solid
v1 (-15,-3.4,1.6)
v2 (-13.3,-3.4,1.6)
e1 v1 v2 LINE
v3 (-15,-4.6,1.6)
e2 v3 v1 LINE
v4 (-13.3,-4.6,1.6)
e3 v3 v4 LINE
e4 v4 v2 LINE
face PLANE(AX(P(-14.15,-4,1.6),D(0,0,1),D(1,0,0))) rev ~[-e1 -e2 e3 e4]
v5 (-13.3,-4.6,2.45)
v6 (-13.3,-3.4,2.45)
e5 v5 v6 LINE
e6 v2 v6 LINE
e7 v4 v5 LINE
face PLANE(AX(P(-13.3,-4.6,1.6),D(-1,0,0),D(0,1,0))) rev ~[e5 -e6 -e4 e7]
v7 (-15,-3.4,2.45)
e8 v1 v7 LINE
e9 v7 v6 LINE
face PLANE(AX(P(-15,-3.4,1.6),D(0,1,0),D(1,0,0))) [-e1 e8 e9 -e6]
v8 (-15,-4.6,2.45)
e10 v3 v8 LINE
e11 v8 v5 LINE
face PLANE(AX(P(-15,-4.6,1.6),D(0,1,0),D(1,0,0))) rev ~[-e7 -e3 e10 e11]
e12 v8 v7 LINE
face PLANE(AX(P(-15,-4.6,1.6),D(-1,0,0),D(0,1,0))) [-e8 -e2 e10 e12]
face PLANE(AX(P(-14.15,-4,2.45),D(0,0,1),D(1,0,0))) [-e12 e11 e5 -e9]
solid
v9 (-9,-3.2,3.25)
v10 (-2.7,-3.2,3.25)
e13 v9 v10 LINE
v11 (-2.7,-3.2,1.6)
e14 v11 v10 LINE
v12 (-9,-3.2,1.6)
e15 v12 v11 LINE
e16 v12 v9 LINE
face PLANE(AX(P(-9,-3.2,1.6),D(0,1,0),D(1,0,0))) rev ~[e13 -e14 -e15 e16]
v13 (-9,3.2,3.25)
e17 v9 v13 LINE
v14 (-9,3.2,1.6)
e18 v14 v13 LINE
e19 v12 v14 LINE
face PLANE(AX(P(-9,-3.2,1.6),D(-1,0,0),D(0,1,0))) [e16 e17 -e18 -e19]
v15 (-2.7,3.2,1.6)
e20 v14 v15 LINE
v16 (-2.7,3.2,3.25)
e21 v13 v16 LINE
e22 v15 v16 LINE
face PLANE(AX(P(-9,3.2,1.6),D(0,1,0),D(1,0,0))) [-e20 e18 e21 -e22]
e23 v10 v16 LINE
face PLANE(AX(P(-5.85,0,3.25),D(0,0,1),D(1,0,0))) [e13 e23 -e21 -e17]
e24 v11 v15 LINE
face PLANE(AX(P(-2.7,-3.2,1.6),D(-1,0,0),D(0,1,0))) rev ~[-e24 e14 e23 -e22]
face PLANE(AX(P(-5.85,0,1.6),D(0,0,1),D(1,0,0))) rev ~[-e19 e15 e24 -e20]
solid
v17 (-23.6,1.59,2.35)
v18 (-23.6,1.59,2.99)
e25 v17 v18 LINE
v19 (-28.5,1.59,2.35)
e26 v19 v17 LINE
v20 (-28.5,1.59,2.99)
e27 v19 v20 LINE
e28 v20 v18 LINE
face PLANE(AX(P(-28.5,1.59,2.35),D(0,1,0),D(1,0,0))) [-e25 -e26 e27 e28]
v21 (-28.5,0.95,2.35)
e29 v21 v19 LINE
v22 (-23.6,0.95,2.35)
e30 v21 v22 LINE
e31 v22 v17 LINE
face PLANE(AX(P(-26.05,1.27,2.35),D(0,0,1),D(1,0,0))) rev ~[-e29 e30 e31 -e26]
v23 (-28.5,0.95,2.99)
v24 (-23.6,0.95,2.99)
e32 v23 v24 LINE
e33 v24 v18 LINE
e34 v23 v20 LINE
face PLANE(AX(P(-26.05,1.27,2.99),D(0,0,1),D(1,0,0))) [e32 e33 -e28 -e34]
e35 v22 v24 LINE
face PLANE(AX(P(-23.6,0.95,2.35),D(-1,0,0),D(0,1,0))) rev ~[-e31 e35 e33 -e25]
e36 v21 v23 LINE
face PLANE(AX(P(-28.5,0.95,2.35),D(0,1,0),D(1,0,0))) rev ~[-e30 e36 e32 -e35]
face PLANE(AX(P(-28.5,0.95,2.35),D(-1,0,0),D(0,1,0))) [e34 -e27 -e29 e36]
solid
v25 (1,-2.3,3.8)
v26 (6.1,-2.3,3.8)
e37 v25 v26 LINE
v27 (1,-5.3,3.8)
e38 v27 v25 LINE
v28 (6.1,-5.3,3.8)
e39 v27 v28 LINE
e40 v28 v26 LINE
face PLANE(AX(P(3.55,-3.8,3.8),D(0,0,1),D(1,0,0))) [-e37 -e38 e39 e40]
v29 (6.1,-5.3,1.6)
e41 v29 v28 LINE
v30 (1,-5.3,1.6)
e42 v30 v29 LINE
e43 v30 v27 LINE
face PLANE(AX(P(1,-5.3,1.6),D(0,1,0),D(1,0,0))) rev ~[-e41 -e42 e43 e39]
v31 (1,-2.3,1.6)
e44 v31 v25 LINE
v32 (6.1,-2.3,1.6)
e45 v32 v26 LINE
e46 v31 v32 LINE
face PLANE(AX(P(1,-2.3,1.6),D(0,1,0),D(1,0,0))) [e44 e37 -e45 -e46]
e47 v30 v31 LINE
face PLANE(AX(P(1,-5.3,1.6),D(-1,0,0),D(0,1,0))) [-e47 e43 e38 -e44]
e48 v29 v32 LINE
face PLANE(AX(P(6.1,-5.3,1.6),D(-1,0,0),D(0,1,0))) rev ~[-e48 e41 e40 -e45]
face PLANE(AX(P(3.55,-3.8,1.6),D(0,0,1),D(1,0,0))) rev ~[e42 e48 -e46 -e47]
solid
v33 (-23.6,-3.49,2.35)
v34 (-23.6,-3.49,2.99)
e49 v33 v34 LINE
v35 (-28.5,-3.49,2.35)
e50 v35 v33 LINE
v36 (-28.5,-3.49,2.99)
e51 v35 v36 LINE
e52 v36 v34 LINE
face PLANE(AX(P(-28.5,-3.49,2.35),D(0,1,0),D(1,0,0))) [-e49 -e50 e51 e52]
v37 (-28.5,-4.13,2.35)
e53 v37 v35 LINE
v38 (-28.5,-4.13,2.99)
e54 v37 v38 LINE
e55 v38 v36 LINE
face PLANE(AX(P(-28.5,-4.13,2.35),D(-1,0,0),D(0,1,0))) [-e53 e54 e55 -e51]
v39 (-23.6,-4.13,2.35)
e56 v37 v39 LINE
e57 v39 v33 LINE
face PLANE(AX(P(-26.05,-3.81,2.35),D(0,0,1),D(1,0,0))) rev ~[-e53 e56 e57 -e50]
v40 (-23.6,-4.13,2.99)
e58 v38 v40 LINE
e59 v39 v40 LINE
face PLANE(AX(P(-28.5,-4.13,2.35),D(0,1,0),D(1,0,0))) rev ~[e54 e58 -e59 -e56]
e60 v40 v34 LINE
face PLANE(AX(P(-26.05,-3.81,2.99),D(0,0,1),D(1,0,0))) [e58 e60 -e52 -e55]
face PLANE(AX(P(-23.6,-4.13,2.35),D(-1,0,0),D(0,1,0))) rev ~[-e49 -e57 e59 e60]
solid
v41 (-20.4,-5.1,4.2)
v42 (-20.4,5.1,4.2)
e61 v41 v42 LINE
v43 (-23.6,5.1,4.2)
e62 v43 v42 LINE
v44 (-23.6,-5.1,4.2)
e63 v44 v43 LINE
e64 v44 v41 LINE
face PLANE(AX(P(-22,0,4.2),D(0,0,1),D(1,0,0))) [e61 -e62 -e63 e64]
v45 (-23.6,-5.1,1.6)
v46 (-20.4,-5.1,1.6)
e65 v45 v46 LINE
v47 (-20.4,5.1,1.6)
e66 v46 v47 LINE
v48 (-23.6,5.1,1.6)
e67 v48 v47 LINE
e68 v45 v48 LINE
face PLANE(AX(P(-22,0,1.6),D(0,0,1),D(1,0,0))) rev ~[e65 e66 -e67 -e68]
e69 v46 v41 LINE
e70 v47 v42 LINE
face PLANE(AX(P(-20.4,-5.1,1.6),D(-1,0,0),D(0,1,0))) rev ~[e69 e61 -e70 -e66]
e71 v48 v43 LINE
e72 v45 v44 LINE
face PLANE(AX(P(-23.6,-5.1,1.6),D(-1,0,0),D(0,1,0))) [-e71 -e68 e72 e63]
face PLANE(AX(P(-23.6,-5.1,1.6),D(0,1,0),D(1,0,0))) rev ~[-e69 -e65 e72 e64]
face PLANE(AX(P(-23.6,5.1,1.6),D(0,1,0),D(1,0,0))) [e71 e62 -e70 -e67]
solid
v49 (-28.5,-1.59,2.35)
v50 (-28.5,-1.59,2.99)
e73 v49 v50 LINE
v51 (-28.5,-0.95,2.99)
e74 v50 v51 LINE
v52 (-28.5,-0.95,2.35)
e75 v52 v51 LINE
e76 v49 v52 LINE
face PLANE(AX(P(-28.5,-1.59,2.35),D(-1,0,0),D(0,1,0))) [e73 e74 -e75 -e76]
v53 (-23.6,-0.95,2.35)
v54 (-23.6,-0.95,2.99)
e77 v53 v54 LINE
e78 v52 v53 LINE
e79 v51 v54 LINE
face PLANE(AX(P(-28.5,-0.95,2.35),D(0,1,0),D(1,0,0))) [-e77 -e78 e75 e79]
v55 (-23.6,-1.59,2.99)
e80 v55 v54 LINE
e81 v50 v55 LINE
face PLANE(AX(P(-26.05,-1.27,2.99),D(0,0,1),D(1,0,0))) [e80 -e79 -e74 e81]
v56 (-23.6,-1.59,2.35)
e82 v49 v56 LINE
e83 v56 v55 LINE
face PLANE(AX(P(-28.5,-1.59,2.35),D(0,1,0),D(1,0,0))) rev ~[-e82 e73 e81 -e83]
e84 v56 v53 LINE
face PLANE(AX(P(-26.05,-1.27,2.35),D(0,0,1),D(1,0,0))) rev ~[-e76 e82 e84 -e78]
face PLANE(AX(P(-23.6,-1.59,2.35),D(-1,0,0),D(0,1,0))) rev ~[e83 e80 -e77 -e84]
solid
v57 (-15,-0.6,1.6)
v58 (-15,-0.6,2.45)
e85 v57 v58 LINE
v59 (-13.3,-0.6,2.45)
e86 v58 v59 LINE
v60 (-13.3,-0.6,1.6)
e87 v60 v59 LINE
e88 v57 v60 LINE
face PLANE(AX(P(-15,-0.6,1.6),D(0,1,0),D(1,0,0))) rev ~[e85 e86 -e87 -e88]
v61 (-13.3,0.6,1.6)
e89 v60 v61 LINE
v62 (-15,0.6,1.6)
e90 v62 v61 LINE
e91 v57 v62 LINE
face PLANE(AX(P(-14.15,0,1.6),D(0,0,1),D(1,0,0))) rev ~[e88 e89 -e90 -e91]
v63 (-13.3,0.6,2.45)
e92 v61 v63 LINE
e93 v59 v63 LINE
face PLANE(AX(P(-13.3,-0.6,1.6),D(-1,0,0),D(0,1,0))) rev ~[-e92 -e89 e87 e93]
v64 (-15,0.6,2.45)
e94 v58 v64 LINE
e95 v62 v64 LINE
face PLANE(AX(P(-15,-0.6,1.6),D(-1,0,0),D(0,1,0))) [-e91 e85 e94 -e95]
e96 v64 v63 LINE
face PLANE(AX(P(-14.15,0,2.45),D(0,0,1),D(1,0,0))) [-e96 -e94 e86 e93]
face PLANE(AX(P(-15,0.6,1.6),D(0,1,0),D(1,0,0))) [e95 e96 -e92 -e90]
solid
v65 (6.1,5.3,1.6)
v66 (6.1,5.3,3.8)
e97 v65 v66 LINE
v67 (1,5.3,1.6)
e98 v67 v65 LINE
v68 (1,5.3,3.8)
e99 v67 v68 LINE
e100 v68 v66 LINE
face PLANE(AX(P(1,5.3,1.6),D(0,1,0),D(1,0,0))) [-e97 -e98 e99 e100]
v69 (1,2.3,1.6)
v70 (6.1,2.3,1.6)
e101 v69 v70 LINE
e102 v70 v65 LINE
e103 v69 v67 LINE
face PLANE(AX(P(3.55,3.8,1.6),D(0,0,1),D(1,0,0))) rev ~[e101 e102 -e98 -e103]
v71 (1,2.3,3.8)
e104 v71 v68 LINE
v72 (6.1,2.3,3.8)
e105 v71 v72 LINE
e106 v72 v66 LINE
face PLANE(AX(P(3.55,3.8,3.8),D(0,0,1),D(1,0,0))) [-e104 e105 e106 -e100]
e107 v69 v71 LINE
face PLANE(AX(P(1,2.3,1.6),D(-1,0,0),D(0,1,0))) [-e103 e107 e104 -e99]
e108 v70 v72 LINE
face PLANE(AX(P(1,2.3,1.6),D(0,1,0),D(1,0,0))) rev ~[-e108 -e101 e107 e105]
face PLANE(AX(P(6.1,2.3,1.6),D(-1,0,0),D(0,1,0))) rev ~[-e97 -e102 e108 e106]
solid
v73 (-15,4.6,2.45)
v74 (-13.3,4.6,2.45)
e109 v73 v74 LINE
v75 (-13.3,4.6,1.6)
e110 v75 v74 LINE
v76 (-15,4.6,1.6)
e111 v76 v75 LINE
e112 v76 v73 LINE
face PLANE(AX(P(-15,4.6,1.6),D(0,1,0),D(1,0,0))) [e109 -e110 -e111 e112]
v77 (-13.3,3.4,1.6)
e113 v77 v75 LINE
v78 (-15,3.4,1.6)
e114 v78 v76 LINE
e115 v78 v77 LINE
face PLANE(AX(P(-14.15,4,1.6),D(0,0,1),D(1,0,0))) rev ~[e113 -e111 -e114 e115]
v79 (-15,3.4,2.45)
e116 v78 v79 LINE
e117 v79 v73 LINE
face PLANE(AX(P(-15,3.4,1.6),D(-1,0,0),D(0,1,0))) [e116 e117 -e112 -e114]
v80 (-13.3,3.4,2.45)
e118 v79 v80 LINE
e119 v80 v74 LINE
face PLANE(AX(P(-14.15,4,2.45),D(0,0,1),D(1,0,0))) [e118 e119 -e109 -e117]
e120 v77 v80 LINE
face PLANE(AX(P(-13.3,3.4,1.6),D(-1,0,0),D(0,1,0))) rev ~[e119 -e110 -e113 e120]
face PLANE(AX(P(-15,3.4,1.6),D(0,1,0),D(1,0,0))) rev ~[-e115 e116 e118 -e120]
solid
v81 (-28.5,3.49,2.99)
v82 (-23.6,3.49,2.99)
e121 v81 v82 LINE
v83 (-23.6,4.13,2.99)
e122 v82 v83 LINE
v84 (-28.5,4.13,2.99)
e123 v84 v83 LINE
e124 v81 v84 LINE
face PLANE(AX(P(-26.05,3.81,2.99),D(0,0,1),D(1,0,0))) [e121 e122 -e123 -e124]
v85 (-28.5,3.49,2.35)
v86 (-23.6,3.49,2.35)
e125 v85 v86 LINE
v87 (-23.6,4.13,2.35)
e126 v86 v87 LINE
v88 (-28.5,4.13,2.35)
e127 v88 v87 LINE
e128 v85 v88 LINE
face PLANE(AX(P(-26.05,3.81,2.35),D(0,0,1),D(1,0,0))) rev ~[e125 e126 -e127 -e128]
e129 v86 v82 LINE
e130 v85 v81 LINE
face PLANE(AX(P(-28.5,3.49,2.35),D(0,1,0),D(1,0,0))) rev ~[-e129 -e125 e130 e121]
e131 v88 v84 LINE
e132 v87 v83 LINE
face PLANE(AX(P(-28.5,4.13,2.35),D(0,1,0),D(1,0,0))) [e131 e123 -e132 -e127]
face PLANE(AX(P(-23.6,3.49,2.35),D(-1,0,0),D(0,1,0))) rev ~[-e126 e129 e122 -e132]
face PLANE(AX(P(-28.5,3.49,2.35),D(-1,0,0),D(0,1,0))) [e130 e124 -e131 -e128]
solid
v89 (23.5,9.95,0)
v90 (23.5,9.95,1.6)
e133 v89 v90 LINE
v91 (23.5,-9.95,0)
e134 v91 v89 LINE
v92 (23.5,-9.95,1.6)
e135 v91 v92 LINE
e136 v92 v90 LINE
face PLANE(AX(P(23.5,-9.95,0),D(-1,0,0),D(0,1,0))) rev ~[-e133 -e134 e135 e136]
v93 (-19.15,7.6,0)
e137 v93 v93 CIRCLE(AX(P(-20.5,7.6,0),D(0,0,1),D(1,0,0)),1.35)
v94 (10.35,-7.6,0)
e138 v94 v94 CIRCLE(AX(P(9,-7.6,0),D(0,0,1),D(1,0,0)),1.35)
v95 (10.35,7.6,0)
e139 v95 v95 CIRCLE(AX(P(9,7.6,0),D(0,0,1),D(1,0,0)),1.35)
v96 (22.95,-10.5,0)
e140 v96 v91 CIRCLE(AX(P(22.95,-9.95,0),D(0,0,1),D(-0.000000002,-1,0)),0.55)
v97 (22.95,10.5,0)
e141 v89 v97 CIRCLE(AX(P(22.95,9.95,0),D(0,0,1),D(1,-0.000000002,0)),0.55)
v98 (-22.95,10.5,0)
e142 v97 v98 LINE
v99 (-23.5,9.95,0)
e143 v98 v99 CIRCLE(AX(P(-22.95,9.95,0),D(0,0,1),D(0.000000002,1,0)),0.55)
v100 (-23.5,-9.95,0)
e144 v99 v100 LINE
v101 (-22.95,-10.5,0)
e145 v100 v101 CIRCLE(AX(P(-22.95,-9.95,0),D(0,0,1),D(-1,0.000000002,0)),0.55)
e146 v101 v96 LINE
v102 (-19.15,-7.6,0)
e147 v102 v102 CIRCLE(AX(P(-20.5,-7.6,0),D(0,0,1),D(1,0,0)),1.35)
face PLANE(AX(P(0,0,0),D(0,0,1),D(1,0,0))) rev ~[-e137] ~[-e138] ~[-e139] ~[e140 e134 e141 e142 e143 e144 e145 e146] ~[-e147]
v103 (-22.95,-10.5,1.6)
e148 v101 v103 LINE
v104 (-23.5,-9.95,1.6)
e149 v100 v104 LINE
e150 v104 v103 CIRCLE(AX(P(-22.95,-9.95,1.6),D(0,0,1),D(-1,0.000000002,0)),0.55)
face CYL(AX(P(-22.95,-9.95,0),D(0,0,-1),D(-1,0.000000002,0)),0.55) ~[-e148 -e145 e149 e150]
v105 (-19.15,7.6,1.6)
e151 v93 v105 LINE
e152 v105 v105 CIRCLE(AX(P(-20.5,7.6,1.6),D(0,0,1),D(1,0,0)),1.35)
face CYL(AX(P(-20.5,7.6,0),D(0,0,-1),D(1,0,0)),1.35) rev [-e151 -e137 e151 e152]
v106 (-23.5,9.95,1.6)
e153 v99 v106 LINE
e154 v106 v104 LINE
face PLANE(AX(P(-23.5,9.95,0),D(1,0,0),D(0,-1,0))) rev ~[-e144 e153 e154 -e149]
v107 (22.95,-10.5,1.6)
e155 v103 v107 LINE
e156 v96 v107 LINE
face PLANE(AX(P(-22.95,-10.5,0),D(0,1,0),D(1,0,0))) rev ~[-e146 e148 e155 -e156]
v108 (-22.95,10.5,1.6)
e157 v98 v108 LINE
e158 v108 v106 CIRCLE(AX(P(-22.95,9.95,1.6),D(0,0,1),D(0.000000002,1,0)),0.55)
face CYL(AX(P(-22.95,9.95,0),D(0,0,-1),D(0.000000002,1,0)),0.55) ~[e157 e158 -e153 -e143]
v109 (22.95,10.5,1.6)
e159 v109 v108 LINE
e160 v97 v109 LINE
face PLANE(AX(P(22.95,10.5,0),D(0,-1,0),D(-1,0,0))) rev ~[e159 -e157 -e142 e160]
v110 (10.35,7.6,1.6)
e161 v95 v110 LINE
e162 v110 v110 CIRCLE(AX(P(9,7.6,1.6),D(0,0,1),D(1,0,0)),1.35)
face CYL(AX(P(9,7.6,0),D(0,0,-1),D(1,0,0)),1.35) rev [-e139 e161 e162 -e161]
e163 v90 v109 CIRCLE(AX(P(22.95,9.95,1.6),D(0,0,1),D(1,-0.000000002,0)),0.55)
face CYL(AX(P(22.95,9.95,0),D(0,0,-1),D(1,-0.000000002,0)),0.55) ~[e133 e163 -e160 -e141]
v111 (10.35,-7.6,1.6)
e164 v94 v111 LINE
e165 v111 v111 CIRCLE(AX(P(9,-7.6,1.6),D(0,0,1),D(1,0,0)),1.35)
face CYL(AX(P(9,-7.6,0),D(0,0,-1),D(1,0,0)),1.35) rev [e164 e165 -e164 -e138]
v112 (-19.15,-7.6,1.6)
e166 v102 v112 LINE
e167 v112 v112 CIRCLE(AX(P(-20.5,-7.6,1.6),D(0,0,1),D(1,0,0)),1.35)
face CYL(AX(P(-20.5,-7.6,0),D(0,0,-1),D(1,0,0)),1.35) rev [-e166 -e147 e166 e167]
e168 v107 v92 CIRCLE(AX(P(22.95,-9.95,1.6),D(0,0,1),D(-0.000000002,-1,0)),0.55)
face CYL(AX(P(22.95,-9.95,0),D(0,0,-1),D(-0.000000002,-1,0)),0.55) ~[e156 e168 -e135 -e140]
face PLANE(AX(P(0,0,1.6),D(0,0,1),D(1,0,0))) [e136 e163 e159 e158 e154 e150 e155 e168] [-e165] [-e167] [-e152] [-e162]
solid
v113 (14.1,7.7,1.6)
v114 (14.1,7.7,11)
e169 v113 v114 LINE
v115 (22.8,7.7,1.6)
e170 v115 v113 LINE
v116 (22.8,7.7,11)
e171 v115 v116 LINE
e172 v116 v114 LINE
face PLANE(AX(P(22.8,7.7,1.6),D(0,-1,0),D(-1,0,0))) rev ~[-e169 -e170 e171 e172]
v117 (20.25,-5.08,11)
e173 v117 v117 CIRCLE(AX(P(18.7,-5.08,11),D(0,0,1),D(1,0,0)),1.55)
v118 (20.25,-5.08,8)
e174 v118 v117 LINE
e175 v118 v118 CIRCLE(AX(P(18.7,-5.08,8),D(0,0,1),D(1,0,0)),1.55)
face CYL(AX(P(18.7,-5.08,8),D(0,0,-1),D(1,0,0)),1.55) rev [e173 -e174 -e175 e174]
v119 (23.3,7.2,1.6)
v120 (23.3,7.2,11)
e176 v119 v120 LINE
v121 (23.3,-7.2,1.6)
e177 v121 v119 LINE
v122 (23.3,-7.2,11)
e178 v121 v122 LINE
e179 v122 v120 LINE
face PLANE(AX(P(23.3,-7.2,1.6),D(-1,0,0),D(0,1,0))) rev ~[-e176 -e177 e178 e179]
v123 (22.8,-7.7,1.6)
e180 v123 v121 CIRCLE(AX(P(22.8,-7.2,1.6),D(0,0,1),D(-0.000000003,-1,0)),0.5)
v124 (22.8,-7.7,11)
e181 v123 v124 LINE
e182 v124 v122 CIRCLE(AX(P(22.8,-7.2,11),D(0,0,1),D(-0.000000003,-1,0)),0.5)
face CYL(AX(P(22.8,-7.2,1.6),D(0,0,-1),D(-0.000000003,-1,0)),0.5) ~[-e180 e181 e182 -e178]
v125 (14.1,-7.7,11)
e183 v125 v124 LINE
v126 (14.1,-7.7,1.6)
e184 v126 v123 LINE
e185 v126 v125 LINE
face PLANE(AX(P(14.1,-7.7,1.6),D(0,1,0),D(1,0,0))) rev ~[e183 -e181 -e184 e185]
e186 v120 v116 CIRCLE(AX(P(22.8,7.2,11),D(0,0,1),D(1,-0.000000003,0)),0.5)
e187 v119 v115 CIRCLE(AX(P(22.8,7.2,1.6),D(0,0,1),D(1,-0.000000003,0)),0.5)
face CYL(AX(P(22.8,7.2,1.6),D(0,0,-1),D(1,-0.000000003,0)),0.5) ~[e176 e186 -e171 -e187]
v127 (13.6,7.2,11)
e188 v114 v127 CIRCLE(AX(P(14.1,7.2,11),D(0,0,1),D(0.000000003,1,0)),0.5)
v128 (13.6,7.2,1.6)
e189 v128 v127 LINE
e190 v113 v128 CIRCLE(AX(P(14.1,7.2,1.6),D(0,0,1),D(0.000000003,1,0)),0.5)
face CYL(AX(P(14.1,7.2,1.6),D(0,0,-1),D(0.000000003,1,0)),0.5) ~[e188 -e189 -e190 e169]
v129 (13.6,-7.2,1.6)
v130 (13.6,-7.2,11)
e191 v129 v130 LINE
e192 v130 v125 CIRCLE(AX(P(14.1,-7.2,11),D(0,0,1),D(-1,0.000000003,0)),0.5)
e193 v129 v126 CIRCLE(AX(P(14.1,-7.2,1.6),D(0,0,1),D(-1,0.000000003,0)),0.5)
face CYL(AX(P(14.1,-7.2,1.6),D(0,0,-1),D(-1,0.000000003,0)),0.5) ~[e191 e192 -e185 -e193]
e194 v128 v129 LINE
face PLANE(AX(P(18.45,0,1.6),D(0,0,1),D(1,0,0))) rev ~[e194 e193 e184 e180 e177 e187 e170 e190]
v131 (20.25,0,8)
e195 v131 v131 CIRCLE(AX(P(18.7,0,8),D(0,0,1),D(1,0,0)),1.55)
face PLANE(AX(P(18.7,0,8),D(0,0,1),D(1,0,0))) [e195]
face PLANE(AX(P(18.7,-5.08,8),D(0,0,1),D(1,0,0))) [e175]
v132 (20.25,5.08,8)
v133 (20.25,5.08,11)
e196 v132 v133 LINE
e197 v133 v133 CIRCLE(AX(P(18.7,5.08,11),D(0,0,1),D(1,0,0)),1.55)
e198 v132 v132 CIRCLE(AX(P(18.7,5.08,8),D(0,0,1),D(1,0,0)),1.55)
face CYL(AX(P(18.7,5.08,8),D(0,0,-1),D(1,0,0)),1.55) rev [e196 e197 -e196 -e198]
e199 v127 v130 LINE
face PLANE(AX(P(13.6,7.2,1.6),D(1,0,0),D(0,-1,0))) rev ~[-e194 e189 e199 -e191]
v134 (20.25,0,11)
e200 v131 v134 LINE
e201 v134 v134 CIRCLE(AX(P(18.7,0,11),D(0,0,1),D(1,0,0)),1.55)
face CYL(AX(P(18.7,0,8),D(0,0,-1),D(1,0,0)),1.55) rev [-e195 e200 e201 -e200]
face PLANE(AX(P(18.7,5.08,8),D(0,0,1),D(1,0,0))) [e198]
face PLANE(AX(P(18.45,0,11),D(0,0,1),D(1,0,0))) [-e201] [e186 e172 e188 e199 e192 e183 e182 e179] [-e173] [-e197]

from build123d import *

# Parameters (mm, degrees)
PCB_OVERVOLTAGE_PROTECTION_SKETCH_R = 1.35
PCB_OVERVOLTAGE_PROTECTION_DEPTH    = 1.6
TTL_2P54_HEADER_START               = 1.6
TTL_2P54_HEADER_SKETCH_W            = 3.2
TTL_2P54_HEADER_SKETCH_H            = 10.2
TTL_2P54_HEADER_DEPTH               = 2.6
FOUR_TTL_PINS_2P54_START            = 2.35
FOUR_TTL_PINS_2P54_SKETCH_W         = 4.9
FOUR_TTL_PINS_2P54_SKETCH_H         = 0.64
FOUR_TTL_PINS_2P54_DEPTH            = 0.64
FOUR_TTL_PINS_2P54_2_DEPTH          = 0.64
FOUR_TTL_PINS_2P54_3_DEPTH          = 0.64
FOUR_TTL_PINS_2P54_4_DEPTH          = 0.64
THREE_POSITION_RS485_TERMINAL_START = 1.6
THREE_POSITION_RS485_TERMINAL_DEPTH = 9.4
TERMINAL_SCREW_ACCESS_START         = 8
TERMINAL_SCREW_ACCESS_SKETCH_R      = 1.55
TERMINAL_SCREW_ACCESS_DEPTH         = 3
TRANSCEIVER_START                   = 1.6
TRANSCEIVER_SKETCH_W                = 6.3
TRANSCEIVER_SKETCH_H                = 6.4
TRANSCEIVER_DEPTH                   = 1.65
TVS_A_START                         = 1.6
TVS_A_SKETCH_W                      = 5.1
TVS_A_SKETCH_H                      = 3
TVS_A_DEPTH                         = 2.2
TVS_B_START                         = 1.6
TVS_B_SKETCH_W                      = 5.1
TVS_B_SKETCH_H                      = 3
TVS_B_DEPTH                         = 2.2
STATUS_LEDS_START                   = 1.6
STATUS_LEDS_SKETCH_W                = 1.7
STATUS_LEDS_SKETCH_H                = 1.2
STATUS_LEDS_DEPTH                   = 0.85
STATUS_LEDS_2_DEPTH                 = 0.85
STATUS_LEDS_3_DEPTH                 = 0.85


with BuildPart() as part:
    # PCB_Overvoltage_protection_Sketch → PCB_Overvoltage_protection (new body)
    with BuildSketch(Plane.XY):
        with BuildLine():
            Line((-22.95, -10.5), (22.95, -10.5))
            ThreePointArc((22.95, -10.5), (23.33890873, -10.33890873), (23.5, -9.95))
            Line((23.5, -9.95), (23.5, 9.95))
            ThreePointArc((23.5, 9.95), (23.33890873, 10.33890873), (22.95, 10.5))
            Line((22.95, 10.5), (-22.95, 10.5))
            ThreePointArc((-22.95, 10.5), (-23.33890873, 10.33890873), (-23.5, 9.95))
            Line((-23.5, 9.95), (-23.5, -9.95))
            ThreePointArc((-23.5, -9.95), (-23.33890873, -10.33890873), (-22.95, -10.5))
        make_face()
        with Locations((-20.5, -7.6)):
            Circle(PCB_OVERVOLTAGE_PROTECTION_SKETCH_R, mode=Mode.SUBTRACT)
        with Locations((-20.5, 7.6)):
            Circle(PCB_OVERVOLTAGE_PROTECTION_SKETCH_R, mode=Mode.SUBTRACT)
        with Locations((9, -7.6)):
            Circle(PCB_OVERVOLTAGE_PROTECTION_SKETCH_R, mode=Mode.SUBTRACT)
        with Locations((9, 7.6)):
            Circle(PCB_OVERVOLTAGE_PROTECTION_SKETCH_R, mode=Mode.SUBTRACT)
    extrude(amount=PCB_OVERVOLTAGE_PROTECTION_DEPTH)


with BuildPart() as body_2:
    # TTL_2p54_Header_Sketch → TTL_2p54_Header (new body)
    with BuildSketch(Plane.XY.offset(TTL_2P54_HEADER_START)):
        with Locations((-22, 0)):
            Rectangle(TTL_2P54_HEADER_SKETCH_W, TTL_2P54_HEADER_SKETCH_H)
    extrude(amount=TTL_2P54_HEADER_DEPTH)


with BuildPart() as body_3:
    # Four_TTL_Pins_2p54_Sketch → Four_TTL_Pins_2p54 (new body)
    with BuildSketch(Plane.XY.offset(FOUR_TTL_PINS_2P54_START)):
        with Locations((-26.05, -3.81)):
            Rectangle(FOUR_TTL_PINS_2P54_SKETCH_W, FOUR_TTL_PINS_2P54_SKETCH_H)
    extrude(amount=FOUR_TTL_PINS_2P54_DEPTH)


with BuildPart() as body_4:
    # Four_TTL_Pins_2p54_Sketch → Four_TTL_Pins_2p54 2 (new body)
    with BuildSketch(Plane.XY.offset(FOUR_TTL_PINS_2P54_START)):
        with Locations((-26.05, -1.27)):
            Rectangle(FOUR_TTL_PINS_2P54_SKETCH_W, FOUR_TTL_PINS_2P54_SKETCH_H)
    extrude(amount=FOUR_TTL_PINS_2P54_2_DEPTH)


with BuildPart() as body_5:
    # Four_TTL_Pins_2p54_Sketch → Four_TTL_Pins_2p54 3 (new body)
    with BuildSketch(Plane.XY.offset(FOUR_TTL_PINS_2P54_START)):
        with Locations((-26.05, 1.27)):
            Rectangle(FOUR_TTL_PINS_2P54_SKETCH_W, FOUR_TTL_PINS_2P54_SKETCH_H)
    extrude(amount=FOUR_TTL_PINS_2P54_3_DEPTH)


with BuildPart() as body_6:
    # Four_TTL_Pins_2p54_Sketch → Four_TTL_Pins_2p54 4 (new body)
    with BuildSketch(Plane.XY.offset(FOUR_TTL_PINS_2P54_START)):
        with Locations((-26.05, 3.81)):
            Rectangle(FOUR_TTL_PINS_2P54_SKETCH_W, FOUR_TTL_PINS_2P54_SKETCH_H)
    extrude(amount=FOUR_TTL_PINS_2P54_4_DEPTH)


with BuildPart() as body_7:
    # Three_position_RS485_terminal_Sketch → Three_position_RS485_terminal (new body)
    with BuildSketch(Plane.XY.offset(THREE_POSITION_RS485_TERMINAL_START)):
        with BuildLine():
            Line((14.1, -7.7), (22.8, -7.7))
            ThreePointArc((22.8, -7.7), (23.153553391, -7.553553391), (23.3, -7.2))
            Line((23.3, -7.2), (23.3, 7.2))
            ThreePointArc((23.3, 7.2), (23.153553391, 7.553553391), (22.8, 7.7))
            Line((22.8, 7.7), (14.1, 7.7))
            ThreePointArc((14.1, 7.7), (13.746446609, 7.553553391), (13.6, 7.2))
            Line((13.6, 7.2), (13.6, -7.2))
            ThreePointArc((13.6, -7.2), (13.746446609, -7.553553391), (14.1, -7.7))
        make_face()
    extrude(amount=THREE_POSITION_RS485_TERMINAL_DEPTH)

    # Terminal_screw_access_Sketch → Terminal_screw_access (cut)
    with BuildSketch(Plane.XY.offset(TERMINAL_SCREW_ACCESS_START)):
        with Locations((18.7, -5.08)):
            Circle(TERMINAL_SCREW_ACCESS_SKETCH_R)
        with Locations((18.7, 0)):
            Circle(TERMINAL_SCREW_ACCESS_SKETCH_R)
        with Locations((18.7, 5.08)):
            Circle(TERMINAL_SCREW_ACCESS_SKETCH_R)
    extrude(amount=TERMINAL_SCREW_ACCESS_DEPTH, mode=Mode.SUBTRACT)


with BuildPart() as body_8:
    # Transceiver_Sketch → Transceiver (new body)
    with BuildSketch(Plane.XY.offset(TRANSCEIVER_START)):
        with Locations((-5.85, 0)):
            Rectangle(TRANSCEIVER_SKETCH_W, TRANSCEIVER_SKETCH_H)
    extrude(amount=TRANSCEIVER_DEPTH)


with BuildPart() as body_9:
    # TVS_A_Sketch → TVS_A (new body)
    with BuildSketch(Plane.XY.offset(TVS_A_START)):
        with Locations((3.55, -3.8)):
            Rectangle(TVS_A_SKETCH_W, TVS_A_SKETCH_H)
    extrude(amount=TVS_A_DEPTH)


with BuildPart() as body_10:
    # TVS_B_Sketch → TVS_B (new body)
    with BuildSketch(Plane.XY.offset(TVS_B_START)):
        with Locations((3.55, 3.8)):
            Rectangle(TVS_B_SKETCH_W, TVS_B_SKETCH_H)
    extrude(amount=TVS_B_DEPTH)


with BuildPart() as body_11:
    # Status_LEDs_Sketch → Status_LEDs (new body)
    with BuildSketch(Plane.XY.offset(STATUS_LEDS_START)):
        with Locations((-14.15, -4)):
            Rectangle(STATUS_LEDS_SKETCH_W, STATUS_LEDS_SKETCH_H)
    extrude(amount=STATUS_LEDS_DEPTH)


with BuildPart() as body_12:
    # Status_LEDs_Sketch → Status_LEDs 2 (new body)
    with BuildSketch(Plane.XY.offset(STATUS_LEDS_START)):
        with Locations((-14.15, 0)):
            Rectangle(STATUS_LEDS_SKETCH_W, STATUS_LEDS_SKETCH_H)
    extrude(amount=STATUS_LEDS_2_DEPTH)


with BuildPart() as body_13:
    # Status_LEDs_Sketch → Status_LEDs 3 (new body)
    with BuildSketch(Plane.XY.offset(STATUS_LEDS_START)):
        with Locations((-14.15, 4)):
            Rectangle(STATUS_LEDS_SKETCH_W, STATUS_LEDS_SKETCH_H)
    extrude(amount=STATUS_LEDS_3_DEPTH)


solid = Compound([part.part, body_2.part, body_3.part, body_4.part, body_5.part, body_6.part, body_7.part, body_8.part, body_9.part, body_10.part, body_11.part, body_12.part, body_13.part])
